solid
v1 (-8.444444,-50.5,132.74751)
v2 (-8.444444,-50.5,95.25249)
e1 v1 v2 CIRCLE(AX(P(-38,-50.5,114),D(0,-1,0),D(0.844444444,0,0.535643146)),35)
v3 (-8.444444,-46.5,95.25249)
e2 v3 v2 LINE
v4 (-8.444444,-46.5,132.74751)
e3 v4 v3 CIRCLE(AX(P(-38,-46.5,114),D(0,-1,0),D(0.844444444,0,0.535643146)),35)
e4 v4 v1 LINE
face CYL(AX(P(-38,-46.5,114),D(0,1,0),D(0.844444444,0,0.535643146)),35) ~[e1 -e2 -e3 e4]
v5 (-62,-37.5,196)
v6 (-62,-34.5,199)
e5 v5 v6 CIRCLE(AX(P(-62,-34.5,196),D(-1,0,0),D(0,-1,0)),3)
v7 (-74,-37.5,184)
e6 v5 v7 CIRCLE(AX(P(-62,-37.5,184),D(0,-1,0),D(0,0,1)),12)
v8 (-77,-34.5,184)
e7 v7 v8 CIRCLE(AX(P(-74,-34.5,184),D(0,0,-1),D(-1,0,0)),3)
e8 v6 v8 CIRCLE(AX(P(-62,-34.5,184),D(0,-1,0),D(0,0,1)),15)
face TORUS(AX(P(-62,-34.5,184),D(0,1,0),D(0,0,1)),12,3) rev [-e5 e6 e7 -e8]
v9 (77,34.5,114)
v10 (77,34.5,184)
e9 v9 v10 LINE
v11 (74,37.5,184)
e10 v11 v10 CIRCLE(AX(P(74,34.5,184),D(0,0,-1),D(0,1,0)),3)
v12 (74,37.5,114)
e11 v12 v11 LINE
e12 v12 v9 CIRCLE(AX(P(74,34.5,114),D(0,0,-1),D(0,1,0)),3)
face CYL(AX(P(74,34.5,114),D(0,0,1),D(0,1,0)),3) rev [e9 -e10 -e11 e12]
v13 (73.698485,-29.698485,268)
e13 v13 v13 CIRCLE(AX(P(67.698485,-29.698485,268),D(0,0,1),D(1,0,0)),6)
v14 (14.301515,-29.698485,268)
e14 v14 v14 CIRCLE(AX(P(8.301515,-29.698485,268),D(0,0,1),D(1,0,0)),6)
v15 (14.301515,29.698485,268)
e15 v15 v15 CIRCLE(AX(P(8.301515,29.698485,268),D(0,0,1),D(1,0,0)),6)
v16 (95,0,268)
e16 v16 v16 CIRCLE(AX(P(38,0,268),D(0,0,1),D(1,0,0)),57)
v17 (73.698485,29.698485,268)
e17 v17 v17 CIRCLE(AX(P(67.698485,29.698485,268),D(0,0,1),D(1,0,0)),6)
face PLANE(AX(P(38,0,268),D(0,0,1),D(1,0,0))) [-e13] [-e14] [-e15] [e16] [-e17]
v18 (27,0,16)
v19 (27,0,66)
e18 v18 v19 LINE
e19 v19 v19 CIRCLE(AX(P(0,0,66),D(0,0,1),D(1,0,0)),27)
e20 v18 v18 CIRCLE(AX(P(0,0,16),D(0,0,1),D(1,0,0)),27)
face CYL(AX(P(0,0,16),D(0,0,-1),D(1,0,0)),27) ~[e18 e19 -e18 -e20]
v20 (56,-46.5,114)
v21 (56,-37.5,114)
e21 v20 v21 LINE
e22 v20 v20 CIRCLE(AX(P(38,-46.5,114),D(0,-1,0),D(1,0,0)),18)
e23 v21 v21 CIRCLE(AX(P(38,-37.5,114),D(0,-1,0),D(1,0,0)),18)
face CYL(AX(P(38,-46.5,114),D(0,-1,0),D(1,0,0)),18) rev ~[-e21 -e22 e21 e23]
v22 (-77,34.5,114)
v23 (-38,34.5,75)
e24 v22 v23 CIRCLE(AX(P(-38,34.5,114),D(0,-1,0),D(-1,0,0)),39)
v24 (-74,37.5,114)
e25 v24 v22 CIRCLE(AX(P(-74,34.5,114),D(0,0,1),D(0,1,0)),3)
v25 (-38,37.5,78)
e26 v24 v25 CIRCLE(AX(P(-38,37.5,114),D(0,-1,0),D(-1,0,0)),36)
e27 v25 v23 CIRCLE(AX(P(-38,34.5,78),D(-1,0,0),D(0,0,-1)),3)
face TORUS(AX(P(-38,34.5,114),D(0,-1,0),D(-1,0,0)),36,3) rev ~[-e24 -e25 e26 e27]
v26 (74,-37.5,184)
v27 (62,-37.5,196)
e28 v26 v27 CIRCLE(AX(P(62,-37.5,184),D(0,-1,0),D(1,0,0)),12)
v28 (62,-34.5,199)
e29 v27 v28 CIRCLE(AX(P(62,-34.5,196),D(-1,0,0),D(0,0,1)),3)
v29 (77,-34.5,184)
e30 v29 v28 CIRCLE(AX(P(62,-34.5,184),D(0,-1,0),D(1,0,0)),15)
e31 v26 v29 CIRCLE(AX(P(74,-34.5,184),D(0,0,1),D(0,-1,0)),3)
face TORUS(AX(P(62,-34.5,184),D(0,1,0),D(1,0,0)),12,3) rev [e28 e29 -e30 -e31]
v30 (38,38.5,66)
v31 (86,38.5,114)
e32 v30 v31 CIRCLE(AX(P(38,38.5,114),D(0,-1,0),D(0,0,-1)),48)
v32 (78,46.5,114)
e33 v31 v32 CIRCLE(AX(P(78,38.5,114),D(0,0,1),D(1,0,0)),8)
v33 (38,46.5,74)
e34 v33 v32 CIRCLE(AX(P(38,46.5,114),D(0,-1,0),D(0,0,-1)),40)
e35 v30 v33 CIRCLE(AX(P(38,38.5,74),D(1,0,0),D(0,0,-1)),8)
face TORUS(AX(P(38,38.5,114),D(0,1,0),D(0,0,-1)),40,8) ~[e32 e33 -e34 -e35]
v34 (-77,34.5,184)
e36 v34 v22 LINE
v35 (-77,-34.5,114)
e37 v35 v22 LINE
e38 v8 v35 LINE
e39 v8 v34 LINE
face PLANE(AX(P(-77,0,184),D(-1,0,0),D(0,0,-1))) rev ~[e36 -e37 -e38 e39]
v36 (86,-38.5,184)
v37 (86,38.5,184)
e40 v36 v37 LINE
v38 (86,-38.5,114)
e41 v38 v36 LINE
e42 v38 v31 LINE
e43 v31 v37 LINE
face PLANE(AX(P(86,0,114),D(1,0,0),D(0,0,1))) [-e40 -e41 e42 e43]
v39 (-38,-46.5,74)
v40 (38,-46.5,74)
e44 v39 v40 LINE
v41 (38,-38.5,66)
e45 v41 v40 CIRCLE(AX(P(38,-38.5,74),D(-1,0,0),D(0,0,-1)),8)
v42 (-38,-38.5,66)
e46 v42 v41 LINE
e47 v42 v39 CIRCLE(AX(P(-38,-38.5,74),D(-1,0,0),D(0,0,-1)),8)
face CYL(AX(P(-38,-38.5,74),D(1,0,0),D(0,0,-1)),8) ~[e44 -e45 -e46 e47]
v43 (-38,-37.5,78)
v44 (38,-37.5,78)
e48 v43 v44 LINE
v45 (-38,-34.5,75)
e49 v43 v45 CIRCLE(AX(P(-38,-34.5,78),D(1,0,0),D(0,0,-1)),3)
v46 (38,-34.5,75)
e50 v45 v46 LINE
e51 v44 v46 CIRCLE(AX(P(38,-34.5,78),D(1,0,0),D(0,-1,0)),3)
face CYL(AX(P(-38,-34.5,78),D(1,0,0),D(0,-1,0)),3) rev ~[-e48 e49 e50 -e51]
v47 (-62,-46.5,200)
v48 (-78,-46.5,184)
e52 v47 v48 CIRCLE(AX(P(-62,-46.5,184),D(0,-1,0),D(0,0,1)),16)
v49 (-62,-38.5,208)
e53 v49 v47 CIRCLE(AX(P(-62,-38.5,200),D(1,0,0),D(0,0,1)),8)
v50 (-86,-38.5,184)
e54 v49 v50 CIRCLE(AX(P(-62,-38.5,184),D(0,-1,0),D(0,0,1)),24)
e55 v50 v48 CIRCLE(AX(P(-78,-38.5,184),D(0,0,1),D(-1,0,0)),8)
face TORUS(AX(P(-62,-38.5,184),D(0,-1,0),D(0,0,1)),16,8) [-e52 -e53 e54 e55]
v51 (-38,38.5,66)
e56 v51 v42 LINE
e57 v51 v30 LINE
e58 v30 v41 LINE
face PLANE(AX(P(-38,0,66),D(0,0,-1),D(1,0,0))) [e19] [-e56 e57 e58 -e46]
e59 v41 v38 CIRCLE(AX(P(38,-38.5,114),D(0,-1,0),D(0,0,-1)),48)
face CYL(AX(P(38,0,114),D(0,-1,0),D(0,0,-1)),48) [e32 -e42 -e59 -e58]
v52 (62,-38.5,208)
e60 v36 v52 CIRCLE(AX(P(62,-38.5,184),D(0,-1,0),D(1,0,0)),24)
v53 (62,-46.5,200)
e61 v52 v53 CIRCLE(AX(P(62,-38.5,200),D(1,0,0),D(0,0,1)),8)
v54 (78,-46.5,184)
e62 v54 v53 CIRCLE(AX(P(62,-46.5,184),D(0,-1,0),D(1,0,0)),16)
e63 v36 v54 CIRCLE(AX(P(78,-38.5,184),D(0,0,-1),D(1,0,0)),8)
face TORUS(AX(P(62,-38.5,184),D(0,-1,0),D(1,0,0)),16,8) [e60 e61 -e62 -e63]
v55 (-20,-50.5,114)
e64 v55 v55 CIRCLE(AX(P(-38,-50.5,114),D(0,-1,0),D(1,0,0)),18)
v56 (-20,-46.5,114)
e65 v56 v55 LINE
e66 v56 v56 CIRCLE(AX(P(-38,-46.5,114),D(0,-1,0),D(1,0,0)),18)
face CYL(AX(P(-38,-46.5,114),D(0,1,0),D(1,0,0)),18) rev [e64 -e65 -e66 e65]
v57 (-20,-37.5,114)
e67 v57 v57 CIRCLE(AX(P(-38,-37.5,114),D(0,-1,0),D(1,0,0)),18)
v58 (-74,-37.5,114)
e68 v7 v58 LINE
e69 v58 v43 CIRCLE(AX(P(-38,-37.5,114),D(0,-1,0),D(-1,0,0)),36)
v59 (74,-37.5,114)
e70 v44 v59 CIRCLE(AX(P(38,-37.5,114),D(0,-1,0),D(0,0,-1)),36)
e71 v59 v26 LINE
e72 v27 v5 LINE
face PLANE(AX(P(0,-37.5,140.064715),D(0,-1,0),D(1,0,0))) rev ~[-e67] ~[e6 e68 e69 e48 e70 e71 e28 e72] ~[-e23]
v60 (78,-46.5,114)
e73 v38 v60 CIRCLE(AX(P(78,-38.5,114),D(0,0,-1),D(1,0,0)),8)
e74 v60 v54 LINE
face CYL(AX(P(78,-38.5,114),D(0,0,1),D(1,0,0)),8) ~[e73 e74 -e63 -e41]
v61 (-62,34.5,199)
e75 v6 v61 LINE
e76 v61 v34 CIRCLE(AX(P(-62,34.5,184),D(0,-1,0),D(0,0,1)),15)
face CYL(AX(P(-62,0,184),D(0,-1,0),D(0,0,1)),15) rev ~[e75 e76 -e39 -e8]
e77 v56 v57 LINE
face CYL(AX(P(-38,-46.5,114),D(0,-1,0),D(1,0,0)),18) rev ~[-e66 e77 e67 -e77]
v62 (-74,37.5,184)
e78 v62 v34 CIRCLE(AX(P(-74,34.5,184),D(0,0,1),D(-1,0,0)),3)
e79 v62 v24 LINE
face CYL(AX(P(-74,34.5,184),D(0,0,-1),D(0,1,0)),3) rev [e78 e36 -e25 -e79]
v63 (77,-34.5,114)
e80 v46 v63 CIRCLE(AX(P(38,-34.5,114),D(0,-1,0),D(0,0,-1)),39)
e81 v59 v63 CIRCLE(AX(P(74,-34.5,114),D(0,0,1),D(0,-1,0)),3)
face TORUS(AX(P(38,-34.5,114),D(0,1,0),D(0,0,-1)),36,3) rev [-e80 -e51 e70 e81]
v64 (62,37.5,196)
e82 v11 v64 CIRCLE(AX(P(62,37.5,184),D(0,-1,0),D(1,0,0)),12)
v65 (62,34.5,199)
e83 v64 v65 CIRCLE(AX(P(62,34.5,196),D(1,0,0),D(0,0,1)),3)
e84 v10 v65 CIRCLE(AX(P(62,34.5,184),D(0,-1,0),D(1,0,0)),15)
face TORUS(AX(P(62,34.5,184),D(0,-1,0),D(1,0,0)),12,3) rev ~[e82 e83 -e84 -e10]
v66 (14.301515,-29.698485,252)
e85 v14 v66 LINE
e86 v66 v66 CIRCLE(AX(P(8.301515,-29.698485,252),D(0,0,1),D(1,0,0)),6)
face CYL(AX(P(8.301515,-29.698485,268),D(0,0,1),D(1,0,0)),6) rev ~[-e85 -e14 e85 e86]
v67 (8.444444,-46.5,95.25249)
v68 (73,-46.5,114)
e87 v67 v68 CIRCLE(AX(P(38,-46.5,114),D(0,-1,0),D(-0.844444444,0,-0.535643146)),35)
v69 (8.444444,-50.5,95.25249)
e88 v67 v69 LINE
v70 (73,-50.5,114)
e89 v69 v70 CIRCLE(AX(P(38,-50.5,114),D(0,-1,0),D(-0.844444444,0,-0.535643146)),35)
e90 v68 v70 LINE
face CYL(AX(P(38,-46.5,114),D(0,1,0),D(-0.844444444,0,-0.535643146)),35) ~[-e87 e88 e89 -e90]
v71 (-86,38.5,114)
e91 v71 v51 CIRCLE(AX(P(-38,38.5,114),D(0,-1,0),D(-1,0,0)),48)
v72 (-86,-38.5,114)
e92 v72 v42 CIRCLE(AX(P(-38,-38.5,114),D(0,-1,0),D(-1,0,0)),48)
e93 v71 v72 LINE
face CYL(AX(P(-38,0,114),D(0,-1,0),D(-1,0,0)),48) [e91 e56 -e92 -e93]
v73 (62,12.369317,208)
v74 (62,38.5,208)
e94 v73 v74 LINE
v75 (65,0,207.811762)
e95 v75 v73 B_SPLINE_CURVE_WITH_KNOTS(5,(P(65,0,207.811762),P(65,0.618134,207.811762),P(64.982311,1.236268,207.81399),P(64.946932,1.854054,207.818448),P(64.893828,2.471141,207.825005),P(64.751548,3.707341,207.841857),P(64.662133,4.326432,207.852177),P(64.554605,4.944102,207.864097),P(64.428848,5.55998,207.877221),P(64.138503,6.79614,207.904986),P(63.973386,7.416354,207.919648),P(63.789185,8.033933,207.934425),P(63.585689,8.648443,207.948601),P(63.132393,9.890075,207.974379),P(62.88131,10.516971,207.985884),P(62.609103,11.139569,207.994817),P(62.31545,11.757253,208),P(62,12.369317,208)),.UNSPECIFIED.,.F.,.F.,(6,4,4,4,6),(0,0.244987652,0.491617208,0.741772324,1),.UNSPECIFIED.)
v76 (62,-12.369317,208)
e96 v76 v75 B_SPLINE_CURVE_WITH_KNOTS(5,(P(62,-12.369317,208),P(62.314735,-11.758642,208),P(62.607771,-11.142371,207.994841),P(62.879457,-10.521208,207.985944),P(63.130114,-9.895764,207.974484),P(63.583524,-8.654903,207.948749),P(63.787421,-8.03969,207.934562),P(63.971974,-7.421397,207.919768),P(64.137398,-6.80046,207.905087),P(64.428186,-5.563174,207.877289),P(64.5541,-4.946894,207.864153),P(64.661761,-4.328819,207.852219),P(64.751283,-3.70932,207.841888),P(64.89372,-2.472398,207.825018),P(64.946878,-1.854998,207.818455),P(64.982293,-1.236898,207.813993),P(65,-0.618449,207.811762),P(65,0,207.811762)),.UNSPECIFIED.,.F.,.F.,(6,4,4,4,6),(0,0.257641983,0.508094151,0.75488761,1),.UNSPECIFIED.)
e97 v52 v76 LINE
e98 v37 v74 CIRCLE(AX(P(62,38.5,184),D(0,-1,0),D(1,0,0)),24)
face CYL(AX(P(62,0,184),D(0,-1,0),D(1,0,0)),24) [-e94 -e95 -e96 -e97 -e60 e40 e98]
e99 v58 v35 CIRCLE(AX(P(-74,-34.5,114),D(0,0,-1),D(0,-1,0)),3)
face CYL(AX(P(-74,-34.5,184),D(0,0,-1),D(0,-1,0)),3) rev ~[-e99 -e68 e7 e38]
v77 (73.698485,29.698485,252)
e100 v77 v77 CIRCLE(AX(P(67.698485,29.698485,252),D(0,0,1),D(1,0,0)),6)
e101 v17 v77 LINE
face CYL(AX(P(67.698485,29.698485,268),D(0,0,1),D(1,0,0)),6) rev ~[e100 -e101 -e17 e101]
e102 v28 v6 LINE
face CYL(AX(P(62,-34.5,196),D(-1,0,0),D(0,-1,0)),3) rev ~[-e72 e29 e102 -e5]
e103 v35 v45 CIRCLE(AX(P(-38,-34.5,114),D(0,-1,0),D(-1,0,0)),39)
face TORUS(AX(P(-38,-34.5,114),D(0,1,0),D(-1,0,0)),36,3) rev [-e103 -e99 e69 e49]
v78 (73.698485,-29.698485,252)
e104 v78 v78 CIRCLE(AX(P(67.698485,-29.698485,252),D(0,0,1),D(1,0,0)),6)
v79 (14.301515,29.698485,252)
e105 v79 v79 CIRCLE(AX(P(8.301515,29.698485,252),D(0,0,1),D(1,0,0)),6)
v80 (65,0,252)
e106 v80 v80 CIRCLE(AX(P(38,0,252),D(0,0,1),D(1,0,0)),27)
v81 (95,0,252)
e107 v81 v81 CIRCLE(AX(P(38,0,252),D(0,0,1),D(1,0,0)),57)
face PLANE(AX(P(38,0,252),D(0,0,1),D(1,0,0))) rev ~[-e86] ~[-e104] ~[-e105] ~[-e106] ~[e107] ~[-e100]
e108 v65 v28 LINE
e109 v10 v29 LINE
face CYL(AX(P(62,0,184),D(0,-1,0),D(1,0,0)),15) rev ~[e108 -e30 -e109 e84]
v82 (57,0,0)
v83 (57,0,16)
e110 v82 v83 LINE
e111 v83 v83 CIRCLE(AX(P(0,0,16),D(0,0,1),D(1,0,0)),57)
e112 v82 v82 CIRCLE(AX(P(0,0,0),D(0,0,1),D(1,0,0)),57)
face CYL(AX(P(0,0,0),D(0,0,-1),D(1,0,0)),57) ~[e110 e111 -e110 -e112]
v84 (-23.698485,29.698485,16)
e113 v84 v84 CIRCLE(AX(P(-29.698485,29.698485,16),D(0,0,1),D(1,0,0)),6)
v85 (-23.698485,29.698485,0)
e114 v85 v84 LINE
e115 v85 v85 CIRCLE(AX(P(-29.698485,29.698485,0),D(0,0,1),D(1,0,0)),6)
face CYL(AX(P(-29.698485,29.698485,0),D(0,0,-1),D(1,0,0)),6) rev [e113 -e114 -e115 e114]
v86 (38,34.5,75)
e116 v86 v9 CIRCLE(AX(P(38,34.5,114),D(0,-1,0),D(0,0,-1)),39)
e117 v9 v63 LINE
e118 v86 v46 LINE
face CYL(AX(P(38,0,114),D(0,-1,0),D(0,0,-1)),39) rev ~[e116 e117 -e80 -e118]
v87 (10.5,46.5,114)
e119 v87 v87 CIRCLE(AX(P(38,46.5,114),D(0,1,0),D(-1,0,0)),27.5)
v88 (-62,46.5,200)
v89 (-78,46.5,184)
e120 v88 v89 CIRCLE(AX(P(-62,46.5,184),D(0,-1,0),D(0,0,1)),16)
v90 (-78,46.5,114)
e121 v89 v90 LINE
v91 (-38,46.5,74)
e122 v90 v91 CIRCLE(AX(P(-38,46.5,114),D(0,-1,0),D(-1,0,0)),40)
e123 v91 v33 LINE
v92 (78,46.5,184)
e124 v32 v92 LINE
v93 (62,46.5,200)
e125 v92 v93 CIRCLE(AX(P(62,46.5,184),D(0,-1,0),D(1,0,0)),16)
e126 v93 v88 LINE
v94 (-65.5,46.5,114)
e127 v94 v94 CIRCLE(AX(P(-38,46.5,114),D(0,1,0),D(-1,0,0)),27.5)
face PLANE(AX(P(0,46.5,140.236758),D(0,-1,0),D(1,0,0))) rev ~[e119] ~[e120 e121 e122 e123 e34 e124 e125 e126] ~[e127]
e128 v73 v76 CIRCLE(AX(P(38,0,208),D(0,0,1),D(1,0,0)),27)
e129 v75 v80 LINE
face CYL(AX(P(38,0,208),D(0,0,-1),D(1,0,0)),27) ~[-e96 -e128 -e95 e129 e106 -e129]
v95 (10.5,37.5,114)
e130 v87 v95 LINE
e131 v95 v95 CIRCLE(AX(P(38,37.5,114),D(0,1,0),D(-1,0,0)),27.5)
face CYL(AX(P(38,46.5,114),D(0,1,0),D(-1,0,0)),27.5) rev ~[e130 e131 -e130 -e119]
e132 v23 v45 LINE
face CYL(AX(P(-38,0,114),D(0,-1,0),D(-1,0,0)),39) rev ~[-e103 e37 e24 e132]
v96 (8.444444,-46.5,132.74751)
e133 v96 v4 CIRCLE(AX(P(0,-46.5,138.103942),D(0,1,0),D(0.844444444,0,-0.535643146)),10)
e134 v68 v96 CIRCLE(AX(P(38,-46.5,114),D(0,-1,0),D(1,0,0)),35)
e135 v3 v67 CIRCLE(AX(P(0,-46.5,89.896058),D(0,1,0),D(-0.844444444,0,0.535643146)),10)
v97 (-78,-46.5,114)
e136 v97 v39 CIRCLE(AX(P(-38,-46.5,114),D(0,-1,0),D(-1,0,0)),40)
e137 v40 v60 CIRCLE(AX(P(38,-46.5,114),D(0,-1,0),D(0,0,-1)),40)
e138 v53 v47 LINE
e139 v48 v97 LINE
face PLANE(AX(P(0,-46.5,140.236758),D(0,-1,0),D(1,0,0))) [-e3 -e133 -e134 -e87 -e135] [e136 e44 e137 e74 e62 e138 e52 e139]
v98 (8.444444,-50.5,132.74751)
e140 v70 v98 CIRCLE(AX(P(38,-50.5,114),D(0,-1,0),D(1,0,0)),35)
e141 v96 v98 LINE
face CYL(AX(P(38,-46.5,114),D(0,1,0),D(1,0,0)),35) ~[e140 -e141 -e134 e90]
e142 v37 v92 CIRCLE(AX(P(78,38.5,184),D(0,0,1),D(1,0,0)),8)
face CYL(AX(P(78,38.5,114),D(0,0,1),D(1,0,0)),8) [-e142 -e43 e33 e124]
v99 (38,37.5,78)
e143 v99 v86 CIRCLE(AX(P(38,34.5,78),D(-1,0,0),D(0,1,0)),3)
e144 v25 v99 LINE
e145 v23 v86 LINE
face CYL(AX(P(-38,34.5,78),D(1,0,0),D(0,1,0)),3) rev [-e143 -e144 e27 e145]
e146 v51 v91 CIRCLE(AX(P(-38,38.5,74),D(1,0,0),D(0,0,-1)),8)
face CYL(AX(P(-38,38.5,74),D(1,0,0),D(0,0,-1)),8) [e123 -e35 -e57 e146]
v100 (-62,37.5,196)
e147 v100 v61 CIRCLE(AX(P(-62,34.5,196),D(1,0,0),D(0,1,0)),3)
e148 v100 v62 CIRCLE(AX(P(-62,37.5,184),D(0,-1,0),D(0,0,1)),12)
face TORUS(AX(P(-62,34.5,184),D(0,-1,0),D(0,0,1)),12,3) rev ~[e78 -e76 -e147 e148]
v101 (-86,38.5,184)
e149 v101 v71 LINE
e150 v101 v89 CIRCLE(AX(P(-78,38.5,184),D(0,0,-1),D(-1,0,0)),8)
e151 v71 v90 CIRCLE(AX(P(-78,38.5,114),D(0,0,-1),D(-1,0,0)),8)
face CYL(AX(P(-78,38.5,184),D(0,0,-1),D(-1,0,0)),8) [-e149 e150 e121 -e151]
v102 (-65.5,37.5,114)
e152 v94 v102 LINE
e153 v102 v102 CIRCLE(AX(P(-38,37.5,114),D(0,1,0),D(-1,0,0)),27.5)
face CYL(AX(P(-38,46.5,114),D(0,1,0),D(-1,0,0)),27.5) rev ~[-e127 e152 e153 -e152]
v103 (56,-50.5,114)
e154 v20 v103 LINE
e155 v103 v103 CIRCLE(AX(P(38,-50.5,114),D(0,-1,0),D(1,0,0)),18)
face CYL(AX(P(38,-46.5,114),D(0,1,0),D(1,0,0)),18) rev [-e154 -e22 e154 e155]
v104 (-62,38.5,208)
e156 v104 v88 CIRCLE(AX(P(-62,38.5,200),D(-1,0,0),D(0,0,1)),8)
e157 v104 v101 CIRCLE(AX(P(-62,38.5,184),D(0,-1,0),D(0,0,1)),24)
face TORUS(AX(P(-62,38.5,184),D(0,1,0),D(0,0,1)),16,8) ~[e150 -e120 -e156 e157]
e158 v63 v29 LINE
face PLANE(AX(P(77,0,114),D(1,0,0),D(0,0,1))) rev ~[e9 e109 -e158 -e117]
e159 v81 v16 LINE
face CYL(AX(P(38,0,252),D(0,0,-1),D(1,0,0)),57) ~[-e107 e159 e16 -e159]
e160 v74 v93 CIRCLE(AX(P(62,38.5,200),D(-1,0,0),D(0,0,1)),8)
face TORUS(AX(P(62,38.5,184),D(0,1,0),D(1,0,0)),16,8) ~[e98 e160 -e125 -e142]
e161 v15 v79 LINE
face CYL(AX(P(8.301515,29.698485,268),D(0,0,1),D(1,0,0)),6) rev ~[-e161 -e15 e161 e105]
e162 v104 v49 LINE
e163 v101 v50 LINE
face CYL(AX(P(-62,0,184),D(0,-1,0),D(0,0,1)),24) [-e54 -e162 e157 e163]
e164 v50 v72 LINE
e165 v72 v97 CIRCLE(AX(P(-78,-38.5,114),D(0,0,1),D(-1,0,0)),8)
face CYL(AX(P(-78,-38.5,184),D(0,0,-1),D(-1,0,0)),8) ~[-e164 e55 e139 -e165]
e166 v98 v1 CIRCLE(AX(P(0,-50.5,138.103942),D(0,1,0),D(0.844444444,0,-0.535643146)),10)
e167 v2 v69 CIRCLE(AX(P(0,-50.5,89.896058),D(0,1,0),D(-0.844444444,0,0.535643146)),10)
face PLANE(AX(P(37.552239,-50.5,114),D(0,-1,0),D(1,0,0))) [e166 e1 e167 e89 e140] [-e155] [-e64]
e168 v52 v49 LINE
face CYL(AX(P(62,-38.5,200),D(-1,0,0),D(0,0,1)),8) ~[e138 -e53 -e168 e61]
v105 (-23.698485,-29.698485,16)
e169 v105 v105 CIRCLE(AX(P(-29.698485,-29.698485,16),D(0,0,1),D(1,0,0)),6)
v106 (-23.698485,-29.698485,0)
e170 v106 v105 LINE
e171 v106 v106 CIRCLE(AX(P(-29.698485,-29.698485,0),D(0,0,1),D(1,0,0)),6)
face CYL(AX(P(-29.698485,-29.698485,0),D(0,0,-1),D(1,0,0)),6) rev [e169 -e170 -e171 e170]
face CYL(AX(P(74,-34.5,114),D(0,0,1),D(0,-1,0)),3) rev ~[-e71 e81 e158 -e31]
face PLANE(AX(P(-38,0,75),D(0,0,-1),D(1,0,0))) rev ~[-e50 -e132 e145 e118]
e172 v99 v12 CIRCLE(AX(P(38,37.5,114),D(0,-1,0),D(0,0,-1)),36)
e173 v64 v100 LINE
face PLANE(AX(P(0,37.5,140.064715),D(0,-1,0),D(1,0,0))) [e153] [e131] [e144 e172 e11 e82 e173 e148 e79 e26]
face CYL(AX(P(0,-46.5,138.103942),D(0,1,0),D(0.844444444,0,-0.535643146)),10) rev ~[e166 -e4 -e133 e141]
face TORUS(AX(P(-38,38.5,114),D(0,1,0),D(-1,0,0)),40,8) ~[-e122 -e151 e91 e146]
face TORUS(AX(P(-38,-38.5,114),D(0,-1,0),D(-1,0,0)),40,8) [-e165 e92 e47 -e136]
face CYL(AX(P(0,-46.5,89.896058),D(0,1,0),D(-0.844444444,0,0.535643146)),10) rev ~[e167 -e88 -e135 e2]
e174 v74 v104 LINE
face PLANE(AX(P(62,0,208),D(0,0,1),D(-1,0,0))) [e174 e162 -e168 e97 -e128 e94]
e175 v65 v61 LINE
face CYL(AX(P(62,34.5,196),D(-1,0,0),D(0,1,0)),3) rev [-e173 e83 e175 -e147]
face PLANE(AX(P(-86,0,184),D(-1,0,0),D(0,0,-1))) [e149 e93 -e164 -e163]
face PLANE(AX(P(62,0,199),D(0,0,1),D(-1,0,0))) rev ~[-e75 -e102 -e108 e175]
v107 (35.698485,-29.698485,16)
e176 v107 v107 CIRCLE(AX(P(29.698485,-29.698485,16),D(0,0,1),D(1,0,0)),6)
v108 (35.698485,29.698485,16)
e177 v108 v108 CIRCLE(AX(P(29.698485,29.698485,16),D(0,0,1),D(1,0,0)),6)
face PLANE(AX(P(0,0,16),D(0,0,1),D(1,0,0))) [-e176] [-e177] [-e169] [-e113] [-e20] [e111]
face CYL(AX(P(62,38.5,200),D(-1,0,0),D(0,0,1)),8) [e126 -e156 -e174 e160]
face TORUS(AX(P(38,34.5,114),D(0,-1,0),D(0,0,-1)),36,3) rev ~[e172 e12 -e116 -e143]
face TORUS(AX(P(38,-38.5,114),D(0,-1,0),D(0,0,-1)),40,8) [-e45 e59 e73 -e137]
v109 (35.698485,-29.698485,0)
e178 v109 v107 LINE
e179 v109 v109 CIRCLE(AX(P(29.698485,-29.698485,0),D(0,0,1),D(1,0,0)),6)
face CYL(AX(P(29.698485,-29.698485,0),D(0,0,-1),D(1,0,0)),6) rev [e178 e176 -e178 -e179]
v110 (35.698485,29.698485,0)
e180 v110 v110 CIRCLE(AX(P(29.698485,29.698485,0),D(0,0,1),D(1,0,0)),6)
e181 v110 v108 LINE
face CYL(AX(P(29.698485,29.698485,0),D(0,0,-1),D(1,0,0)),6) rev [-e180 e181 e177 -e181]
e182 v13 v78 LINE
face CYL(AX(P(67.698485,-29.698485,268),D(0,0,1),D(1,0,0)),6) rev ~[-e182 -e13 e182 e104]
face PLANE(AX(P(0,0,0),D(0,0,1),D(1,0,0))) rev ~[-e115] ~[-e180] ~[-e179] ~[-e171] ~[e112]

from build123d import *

# Parameters (mm, degrees)
F0_R          = 57
F0_R_2        = 6
F1_DEPTH      = 16
F2_R          = 27
F3_DEPTH      = 50
F5_DEPTH      = 46.5
F6_R          = 8
F7_R          = 27
F8_DEPTH      = 44
F8_DEPTH_BACK = 25
F9_R          = 57
F9_R_2        = 27
F10_DEPTH     = 16
F11_R         = 6
F12_DEPTH     = 25
F14_DEPTH     = 37.5
F15_R         = 3
F16_R         = 3
F17_R         = 18
F18_DEPTH     = 4
F19_DEPTH     = 25
F20_R         = 27.5
F21_DEPTH     = 25


with BuildPart() as f1:
    # F0 (on Top) → F1 (new body)
    with BuildSketch(Plane.XY):
        Circle(F0_R)
        with Locations((-29.6984848098, -29.6984848098)):
            Circle(F0_R_2, mode=Mode.SUBTRACT)
        with Locations((29.6984848098, -29.6984848098)):
            Circle(F0_R_2, mode=Mode.SUBTRACT)
        with Locations((-29.6984848098, 29.6984848098)):
            Circle(F0_R_2, mode=Mode.SUBTRACT)
        with Locations((29.6984848098, 29.6984848098)):
            Circle(F0_R_2, mode=Mode.SUBTRACT)
    extrude(amount=F1_DEPTH)

    # F2 (on face) → F3 (join)
    with BuildSketch(Plane.XY.offset(16)):
        Circle(F2_R)
    extrude(amount=F3_DEPTH)

    # F4 (on Front) → F5 (join, symmetric)
    with BuildSketch(Plane.XZ):
        with BuildLine():
            Line((62, 208), (-62, 208))
            ThreePointArc((-62, 208), (-78.9705627485, 200.9705627485), (-86, 184))
            Line((-86, 184), (-86, 114))
            ThreePointArc((-86, 114), (-71.941125497, 80.058874503), (-38, 66))
            Line((-38, 66), (0, 66))
            Line((0, 66), (38, 66))
            ThreePointArc((38, 66), (71.941125497, 80.058874503), (86, 114))
            Line((86, 114), (86, 184))
            ThreePointArc((86, 184), (78.9705627485, 200.9705627485), (62, 208))
        make_face()
    extrude(amount=F5_DEPTH, both=True)

    # F6
    f6_edges = [f1.edges().sort_by_distance(p)[0] for p in [
        (0, -46.5, 208),
        (-78.970563, -46.5, 200.970563),
        (-86, -46.5, 149),
        (-71.941125, -46.5, 80.058875),
        (0, -46.5, 66),
        (71.941125, -46.5, 80.058875),
        (86, -46.5, 149),
        (78.970563, -46.5, 200.970563),
        (0, 46.5, 208),
        (-78.970563, 46.5, 200.970563),
        (-86, 46.5, 149),
        (-71.941125, 46.5, 80.058875),
        (0, 46.5, 66),
        (71.941125, 46.5, 80.058875),
        (86, 46.5, 149),
        (78.970563, 46.5, 200.970563),
    ]]
    fillet(f6_edges, radius=F6_R)

    # F7 (on face) → F8 (join, two sides)
    with BuildSketch(Plane.XY.offset(208)) as f8_sk:
        with Locations((38, 0)):
            Circle(F7_R)
    extrude(amount=F8_DEPTH)
    extrude(f8_sk.sketch, amount=-F8_DEPTH_BACK)

    # F9 (on face) → F10 (join)
    with BuildSketch(Plane.XY.offset(252)):
        with Locations((38, 0)):
            Circle(F9_R)
        with Locations((38, 0)):
            Circle(F9_R_2, mode=Mode.SUBTRACT)
        with Locations((38, 0)):
            Circle(F9_R_2)
    extrude(amount=F10_DEPTH)

    # F11 (on face) → F12 (cut)
    with BuildSketch(Plane.XY.offset(268)):
        with Locations((67.6984848098, 29.6984848098)):
            Circle(F11_R)
        with Locations((67.6984848098, -29.6984848098)):
            Circle(F11_R)
        with Locations((8.3015151902, 29.6984848098)):
            Circle(F11_R)
        with Locations((8.3015151902, -29.6984848098)):
            Circle(F11_R)
    extrude(amount=-F12_DEPTH, mode=Mode.SUBTRACT)

    # F13 (on Front) → F14 (cut, symmetric)
    with BuildSketch(Plane.XZ):
        with BuildLine():
            ThreePointArc((-77, 114), (-65.5771644663, 86.4228355337), (-38, 75))
            Line((-38, 75), (38, 75))
            ThreePointArc((38, 75), (65.5771644663, 86.4228355337), (77, 114))
            Line((77, 114), (77, 184))
            ThreePointArc((77, 184), (72.6066017178, 194.6066017178), (62, 199))
            Line((62, 199), (-62, 199))
            ThreePointArc((-62, 199), (-72.6066017178, 194.6066017178), (-77, 184))
            Line((-77, 184), (-77, 114))
        make_face()
    extrude(amount=F14_DEPTH, both=True, mode=Mode.SUBTRACT)

    # F15
    f15_edges = [f1.edges().sort_by_distance(p)[0] for p in [
        (77, 37.5, 149),
    ]]
    fillet(f15_edges, radius=F15_R)

    # F16
    f16_edges = [f1.edges().sort_by_distance(p)[0] for p in [
        (77, -37.5, 149),
    ]]
    fillet(f16_edges, radius=F16_R)

    # F17 (on face) → F18 (join)
    with BuildSketch(Plane.XZ.offset(46.5)):
        with BuildLine():
            ThreePointArc((8.4444444444, 95.2524898773), (47.7610336429, 80.3886593213), (73, 114))
            ThreePointArc((73, 114), (47.7610336429, 147.6113406787), (8.4444444444, 132.7475101227))
            ThreePointArc((8.4444444444, 132.7475101227), (3, 114), (8.4444444444, 95.2524898773))
        make_face()
        with Locations((38, 114)):
            Circle(F17_R, mode=Mode.SUBTRACT)
        with BuildLine():
            ThreePointArc((8.4444444444, 95.2524898773), (3, 114), (8.4444444444, 132.7475101227))
            ThreePointArc((8.4444444444, 132.7475101227), (0, 128.1039415864), (-8.4444444444, 132.7475101227))
            ThreePointArc((-8.4444444444, 132.7475101227), (-4.3886593213, 123.7610336429), (-3, 114))
            ThreePointArc((-3, 114), (-4.3886593213, 104.2389663571), (-8.4444444444, 95.2524898773))
            ThreePointArc((-8.4444444444, 95.2524898773), (0, 99.8960584136), (8.4444444444, 95.2524898773))
        make_face()
        with BuildLine():
            ThreePointArc((-3, 114), (-4.3886593213, 123.7610336429), (-8.4444444444, 132.7475101227))
            ThreePointArc((-8.4444444444, 132.7475101227), (-73, 114), (-8.4444444444, 95.2524898773))
            ThreePointArc((-8.4444444444, 95.2524898773), (-4.3886593213, 104.2389663571), (-3, 114))
        make_face()
        with Locations((-38, 114)):
            Circle(F17_R, mode=Mode.SUBTRACT)
    extrude(amount=F18_DEPTH)

    # F19 (cut): faces of the model
    f19_faces = [f1.faces().sort_by_distance(p)[0] for p in [
        (-38, -46.5, 114),
        (38, -46.5, 114),
    ]]
    extrude(f19_faces, amount=-F19_DEPTH, mode=Mode.SUBTRACT)

    # F20 (on face) → F21 (cut)
    with BuildSketch(Plane(origin=(0, 46.5, 0), x_dir=(-1, 0, 0), z_dir=(0, 1, 0))):
        with Locations((-38, 114)):
            Circle(F20_R)
        with Locations((38, 114)):
            Circle(F20_R)
    extrude(amount=-F21_DEPTH, mode=Mode.SUBTRACT)


solid = f1.part
